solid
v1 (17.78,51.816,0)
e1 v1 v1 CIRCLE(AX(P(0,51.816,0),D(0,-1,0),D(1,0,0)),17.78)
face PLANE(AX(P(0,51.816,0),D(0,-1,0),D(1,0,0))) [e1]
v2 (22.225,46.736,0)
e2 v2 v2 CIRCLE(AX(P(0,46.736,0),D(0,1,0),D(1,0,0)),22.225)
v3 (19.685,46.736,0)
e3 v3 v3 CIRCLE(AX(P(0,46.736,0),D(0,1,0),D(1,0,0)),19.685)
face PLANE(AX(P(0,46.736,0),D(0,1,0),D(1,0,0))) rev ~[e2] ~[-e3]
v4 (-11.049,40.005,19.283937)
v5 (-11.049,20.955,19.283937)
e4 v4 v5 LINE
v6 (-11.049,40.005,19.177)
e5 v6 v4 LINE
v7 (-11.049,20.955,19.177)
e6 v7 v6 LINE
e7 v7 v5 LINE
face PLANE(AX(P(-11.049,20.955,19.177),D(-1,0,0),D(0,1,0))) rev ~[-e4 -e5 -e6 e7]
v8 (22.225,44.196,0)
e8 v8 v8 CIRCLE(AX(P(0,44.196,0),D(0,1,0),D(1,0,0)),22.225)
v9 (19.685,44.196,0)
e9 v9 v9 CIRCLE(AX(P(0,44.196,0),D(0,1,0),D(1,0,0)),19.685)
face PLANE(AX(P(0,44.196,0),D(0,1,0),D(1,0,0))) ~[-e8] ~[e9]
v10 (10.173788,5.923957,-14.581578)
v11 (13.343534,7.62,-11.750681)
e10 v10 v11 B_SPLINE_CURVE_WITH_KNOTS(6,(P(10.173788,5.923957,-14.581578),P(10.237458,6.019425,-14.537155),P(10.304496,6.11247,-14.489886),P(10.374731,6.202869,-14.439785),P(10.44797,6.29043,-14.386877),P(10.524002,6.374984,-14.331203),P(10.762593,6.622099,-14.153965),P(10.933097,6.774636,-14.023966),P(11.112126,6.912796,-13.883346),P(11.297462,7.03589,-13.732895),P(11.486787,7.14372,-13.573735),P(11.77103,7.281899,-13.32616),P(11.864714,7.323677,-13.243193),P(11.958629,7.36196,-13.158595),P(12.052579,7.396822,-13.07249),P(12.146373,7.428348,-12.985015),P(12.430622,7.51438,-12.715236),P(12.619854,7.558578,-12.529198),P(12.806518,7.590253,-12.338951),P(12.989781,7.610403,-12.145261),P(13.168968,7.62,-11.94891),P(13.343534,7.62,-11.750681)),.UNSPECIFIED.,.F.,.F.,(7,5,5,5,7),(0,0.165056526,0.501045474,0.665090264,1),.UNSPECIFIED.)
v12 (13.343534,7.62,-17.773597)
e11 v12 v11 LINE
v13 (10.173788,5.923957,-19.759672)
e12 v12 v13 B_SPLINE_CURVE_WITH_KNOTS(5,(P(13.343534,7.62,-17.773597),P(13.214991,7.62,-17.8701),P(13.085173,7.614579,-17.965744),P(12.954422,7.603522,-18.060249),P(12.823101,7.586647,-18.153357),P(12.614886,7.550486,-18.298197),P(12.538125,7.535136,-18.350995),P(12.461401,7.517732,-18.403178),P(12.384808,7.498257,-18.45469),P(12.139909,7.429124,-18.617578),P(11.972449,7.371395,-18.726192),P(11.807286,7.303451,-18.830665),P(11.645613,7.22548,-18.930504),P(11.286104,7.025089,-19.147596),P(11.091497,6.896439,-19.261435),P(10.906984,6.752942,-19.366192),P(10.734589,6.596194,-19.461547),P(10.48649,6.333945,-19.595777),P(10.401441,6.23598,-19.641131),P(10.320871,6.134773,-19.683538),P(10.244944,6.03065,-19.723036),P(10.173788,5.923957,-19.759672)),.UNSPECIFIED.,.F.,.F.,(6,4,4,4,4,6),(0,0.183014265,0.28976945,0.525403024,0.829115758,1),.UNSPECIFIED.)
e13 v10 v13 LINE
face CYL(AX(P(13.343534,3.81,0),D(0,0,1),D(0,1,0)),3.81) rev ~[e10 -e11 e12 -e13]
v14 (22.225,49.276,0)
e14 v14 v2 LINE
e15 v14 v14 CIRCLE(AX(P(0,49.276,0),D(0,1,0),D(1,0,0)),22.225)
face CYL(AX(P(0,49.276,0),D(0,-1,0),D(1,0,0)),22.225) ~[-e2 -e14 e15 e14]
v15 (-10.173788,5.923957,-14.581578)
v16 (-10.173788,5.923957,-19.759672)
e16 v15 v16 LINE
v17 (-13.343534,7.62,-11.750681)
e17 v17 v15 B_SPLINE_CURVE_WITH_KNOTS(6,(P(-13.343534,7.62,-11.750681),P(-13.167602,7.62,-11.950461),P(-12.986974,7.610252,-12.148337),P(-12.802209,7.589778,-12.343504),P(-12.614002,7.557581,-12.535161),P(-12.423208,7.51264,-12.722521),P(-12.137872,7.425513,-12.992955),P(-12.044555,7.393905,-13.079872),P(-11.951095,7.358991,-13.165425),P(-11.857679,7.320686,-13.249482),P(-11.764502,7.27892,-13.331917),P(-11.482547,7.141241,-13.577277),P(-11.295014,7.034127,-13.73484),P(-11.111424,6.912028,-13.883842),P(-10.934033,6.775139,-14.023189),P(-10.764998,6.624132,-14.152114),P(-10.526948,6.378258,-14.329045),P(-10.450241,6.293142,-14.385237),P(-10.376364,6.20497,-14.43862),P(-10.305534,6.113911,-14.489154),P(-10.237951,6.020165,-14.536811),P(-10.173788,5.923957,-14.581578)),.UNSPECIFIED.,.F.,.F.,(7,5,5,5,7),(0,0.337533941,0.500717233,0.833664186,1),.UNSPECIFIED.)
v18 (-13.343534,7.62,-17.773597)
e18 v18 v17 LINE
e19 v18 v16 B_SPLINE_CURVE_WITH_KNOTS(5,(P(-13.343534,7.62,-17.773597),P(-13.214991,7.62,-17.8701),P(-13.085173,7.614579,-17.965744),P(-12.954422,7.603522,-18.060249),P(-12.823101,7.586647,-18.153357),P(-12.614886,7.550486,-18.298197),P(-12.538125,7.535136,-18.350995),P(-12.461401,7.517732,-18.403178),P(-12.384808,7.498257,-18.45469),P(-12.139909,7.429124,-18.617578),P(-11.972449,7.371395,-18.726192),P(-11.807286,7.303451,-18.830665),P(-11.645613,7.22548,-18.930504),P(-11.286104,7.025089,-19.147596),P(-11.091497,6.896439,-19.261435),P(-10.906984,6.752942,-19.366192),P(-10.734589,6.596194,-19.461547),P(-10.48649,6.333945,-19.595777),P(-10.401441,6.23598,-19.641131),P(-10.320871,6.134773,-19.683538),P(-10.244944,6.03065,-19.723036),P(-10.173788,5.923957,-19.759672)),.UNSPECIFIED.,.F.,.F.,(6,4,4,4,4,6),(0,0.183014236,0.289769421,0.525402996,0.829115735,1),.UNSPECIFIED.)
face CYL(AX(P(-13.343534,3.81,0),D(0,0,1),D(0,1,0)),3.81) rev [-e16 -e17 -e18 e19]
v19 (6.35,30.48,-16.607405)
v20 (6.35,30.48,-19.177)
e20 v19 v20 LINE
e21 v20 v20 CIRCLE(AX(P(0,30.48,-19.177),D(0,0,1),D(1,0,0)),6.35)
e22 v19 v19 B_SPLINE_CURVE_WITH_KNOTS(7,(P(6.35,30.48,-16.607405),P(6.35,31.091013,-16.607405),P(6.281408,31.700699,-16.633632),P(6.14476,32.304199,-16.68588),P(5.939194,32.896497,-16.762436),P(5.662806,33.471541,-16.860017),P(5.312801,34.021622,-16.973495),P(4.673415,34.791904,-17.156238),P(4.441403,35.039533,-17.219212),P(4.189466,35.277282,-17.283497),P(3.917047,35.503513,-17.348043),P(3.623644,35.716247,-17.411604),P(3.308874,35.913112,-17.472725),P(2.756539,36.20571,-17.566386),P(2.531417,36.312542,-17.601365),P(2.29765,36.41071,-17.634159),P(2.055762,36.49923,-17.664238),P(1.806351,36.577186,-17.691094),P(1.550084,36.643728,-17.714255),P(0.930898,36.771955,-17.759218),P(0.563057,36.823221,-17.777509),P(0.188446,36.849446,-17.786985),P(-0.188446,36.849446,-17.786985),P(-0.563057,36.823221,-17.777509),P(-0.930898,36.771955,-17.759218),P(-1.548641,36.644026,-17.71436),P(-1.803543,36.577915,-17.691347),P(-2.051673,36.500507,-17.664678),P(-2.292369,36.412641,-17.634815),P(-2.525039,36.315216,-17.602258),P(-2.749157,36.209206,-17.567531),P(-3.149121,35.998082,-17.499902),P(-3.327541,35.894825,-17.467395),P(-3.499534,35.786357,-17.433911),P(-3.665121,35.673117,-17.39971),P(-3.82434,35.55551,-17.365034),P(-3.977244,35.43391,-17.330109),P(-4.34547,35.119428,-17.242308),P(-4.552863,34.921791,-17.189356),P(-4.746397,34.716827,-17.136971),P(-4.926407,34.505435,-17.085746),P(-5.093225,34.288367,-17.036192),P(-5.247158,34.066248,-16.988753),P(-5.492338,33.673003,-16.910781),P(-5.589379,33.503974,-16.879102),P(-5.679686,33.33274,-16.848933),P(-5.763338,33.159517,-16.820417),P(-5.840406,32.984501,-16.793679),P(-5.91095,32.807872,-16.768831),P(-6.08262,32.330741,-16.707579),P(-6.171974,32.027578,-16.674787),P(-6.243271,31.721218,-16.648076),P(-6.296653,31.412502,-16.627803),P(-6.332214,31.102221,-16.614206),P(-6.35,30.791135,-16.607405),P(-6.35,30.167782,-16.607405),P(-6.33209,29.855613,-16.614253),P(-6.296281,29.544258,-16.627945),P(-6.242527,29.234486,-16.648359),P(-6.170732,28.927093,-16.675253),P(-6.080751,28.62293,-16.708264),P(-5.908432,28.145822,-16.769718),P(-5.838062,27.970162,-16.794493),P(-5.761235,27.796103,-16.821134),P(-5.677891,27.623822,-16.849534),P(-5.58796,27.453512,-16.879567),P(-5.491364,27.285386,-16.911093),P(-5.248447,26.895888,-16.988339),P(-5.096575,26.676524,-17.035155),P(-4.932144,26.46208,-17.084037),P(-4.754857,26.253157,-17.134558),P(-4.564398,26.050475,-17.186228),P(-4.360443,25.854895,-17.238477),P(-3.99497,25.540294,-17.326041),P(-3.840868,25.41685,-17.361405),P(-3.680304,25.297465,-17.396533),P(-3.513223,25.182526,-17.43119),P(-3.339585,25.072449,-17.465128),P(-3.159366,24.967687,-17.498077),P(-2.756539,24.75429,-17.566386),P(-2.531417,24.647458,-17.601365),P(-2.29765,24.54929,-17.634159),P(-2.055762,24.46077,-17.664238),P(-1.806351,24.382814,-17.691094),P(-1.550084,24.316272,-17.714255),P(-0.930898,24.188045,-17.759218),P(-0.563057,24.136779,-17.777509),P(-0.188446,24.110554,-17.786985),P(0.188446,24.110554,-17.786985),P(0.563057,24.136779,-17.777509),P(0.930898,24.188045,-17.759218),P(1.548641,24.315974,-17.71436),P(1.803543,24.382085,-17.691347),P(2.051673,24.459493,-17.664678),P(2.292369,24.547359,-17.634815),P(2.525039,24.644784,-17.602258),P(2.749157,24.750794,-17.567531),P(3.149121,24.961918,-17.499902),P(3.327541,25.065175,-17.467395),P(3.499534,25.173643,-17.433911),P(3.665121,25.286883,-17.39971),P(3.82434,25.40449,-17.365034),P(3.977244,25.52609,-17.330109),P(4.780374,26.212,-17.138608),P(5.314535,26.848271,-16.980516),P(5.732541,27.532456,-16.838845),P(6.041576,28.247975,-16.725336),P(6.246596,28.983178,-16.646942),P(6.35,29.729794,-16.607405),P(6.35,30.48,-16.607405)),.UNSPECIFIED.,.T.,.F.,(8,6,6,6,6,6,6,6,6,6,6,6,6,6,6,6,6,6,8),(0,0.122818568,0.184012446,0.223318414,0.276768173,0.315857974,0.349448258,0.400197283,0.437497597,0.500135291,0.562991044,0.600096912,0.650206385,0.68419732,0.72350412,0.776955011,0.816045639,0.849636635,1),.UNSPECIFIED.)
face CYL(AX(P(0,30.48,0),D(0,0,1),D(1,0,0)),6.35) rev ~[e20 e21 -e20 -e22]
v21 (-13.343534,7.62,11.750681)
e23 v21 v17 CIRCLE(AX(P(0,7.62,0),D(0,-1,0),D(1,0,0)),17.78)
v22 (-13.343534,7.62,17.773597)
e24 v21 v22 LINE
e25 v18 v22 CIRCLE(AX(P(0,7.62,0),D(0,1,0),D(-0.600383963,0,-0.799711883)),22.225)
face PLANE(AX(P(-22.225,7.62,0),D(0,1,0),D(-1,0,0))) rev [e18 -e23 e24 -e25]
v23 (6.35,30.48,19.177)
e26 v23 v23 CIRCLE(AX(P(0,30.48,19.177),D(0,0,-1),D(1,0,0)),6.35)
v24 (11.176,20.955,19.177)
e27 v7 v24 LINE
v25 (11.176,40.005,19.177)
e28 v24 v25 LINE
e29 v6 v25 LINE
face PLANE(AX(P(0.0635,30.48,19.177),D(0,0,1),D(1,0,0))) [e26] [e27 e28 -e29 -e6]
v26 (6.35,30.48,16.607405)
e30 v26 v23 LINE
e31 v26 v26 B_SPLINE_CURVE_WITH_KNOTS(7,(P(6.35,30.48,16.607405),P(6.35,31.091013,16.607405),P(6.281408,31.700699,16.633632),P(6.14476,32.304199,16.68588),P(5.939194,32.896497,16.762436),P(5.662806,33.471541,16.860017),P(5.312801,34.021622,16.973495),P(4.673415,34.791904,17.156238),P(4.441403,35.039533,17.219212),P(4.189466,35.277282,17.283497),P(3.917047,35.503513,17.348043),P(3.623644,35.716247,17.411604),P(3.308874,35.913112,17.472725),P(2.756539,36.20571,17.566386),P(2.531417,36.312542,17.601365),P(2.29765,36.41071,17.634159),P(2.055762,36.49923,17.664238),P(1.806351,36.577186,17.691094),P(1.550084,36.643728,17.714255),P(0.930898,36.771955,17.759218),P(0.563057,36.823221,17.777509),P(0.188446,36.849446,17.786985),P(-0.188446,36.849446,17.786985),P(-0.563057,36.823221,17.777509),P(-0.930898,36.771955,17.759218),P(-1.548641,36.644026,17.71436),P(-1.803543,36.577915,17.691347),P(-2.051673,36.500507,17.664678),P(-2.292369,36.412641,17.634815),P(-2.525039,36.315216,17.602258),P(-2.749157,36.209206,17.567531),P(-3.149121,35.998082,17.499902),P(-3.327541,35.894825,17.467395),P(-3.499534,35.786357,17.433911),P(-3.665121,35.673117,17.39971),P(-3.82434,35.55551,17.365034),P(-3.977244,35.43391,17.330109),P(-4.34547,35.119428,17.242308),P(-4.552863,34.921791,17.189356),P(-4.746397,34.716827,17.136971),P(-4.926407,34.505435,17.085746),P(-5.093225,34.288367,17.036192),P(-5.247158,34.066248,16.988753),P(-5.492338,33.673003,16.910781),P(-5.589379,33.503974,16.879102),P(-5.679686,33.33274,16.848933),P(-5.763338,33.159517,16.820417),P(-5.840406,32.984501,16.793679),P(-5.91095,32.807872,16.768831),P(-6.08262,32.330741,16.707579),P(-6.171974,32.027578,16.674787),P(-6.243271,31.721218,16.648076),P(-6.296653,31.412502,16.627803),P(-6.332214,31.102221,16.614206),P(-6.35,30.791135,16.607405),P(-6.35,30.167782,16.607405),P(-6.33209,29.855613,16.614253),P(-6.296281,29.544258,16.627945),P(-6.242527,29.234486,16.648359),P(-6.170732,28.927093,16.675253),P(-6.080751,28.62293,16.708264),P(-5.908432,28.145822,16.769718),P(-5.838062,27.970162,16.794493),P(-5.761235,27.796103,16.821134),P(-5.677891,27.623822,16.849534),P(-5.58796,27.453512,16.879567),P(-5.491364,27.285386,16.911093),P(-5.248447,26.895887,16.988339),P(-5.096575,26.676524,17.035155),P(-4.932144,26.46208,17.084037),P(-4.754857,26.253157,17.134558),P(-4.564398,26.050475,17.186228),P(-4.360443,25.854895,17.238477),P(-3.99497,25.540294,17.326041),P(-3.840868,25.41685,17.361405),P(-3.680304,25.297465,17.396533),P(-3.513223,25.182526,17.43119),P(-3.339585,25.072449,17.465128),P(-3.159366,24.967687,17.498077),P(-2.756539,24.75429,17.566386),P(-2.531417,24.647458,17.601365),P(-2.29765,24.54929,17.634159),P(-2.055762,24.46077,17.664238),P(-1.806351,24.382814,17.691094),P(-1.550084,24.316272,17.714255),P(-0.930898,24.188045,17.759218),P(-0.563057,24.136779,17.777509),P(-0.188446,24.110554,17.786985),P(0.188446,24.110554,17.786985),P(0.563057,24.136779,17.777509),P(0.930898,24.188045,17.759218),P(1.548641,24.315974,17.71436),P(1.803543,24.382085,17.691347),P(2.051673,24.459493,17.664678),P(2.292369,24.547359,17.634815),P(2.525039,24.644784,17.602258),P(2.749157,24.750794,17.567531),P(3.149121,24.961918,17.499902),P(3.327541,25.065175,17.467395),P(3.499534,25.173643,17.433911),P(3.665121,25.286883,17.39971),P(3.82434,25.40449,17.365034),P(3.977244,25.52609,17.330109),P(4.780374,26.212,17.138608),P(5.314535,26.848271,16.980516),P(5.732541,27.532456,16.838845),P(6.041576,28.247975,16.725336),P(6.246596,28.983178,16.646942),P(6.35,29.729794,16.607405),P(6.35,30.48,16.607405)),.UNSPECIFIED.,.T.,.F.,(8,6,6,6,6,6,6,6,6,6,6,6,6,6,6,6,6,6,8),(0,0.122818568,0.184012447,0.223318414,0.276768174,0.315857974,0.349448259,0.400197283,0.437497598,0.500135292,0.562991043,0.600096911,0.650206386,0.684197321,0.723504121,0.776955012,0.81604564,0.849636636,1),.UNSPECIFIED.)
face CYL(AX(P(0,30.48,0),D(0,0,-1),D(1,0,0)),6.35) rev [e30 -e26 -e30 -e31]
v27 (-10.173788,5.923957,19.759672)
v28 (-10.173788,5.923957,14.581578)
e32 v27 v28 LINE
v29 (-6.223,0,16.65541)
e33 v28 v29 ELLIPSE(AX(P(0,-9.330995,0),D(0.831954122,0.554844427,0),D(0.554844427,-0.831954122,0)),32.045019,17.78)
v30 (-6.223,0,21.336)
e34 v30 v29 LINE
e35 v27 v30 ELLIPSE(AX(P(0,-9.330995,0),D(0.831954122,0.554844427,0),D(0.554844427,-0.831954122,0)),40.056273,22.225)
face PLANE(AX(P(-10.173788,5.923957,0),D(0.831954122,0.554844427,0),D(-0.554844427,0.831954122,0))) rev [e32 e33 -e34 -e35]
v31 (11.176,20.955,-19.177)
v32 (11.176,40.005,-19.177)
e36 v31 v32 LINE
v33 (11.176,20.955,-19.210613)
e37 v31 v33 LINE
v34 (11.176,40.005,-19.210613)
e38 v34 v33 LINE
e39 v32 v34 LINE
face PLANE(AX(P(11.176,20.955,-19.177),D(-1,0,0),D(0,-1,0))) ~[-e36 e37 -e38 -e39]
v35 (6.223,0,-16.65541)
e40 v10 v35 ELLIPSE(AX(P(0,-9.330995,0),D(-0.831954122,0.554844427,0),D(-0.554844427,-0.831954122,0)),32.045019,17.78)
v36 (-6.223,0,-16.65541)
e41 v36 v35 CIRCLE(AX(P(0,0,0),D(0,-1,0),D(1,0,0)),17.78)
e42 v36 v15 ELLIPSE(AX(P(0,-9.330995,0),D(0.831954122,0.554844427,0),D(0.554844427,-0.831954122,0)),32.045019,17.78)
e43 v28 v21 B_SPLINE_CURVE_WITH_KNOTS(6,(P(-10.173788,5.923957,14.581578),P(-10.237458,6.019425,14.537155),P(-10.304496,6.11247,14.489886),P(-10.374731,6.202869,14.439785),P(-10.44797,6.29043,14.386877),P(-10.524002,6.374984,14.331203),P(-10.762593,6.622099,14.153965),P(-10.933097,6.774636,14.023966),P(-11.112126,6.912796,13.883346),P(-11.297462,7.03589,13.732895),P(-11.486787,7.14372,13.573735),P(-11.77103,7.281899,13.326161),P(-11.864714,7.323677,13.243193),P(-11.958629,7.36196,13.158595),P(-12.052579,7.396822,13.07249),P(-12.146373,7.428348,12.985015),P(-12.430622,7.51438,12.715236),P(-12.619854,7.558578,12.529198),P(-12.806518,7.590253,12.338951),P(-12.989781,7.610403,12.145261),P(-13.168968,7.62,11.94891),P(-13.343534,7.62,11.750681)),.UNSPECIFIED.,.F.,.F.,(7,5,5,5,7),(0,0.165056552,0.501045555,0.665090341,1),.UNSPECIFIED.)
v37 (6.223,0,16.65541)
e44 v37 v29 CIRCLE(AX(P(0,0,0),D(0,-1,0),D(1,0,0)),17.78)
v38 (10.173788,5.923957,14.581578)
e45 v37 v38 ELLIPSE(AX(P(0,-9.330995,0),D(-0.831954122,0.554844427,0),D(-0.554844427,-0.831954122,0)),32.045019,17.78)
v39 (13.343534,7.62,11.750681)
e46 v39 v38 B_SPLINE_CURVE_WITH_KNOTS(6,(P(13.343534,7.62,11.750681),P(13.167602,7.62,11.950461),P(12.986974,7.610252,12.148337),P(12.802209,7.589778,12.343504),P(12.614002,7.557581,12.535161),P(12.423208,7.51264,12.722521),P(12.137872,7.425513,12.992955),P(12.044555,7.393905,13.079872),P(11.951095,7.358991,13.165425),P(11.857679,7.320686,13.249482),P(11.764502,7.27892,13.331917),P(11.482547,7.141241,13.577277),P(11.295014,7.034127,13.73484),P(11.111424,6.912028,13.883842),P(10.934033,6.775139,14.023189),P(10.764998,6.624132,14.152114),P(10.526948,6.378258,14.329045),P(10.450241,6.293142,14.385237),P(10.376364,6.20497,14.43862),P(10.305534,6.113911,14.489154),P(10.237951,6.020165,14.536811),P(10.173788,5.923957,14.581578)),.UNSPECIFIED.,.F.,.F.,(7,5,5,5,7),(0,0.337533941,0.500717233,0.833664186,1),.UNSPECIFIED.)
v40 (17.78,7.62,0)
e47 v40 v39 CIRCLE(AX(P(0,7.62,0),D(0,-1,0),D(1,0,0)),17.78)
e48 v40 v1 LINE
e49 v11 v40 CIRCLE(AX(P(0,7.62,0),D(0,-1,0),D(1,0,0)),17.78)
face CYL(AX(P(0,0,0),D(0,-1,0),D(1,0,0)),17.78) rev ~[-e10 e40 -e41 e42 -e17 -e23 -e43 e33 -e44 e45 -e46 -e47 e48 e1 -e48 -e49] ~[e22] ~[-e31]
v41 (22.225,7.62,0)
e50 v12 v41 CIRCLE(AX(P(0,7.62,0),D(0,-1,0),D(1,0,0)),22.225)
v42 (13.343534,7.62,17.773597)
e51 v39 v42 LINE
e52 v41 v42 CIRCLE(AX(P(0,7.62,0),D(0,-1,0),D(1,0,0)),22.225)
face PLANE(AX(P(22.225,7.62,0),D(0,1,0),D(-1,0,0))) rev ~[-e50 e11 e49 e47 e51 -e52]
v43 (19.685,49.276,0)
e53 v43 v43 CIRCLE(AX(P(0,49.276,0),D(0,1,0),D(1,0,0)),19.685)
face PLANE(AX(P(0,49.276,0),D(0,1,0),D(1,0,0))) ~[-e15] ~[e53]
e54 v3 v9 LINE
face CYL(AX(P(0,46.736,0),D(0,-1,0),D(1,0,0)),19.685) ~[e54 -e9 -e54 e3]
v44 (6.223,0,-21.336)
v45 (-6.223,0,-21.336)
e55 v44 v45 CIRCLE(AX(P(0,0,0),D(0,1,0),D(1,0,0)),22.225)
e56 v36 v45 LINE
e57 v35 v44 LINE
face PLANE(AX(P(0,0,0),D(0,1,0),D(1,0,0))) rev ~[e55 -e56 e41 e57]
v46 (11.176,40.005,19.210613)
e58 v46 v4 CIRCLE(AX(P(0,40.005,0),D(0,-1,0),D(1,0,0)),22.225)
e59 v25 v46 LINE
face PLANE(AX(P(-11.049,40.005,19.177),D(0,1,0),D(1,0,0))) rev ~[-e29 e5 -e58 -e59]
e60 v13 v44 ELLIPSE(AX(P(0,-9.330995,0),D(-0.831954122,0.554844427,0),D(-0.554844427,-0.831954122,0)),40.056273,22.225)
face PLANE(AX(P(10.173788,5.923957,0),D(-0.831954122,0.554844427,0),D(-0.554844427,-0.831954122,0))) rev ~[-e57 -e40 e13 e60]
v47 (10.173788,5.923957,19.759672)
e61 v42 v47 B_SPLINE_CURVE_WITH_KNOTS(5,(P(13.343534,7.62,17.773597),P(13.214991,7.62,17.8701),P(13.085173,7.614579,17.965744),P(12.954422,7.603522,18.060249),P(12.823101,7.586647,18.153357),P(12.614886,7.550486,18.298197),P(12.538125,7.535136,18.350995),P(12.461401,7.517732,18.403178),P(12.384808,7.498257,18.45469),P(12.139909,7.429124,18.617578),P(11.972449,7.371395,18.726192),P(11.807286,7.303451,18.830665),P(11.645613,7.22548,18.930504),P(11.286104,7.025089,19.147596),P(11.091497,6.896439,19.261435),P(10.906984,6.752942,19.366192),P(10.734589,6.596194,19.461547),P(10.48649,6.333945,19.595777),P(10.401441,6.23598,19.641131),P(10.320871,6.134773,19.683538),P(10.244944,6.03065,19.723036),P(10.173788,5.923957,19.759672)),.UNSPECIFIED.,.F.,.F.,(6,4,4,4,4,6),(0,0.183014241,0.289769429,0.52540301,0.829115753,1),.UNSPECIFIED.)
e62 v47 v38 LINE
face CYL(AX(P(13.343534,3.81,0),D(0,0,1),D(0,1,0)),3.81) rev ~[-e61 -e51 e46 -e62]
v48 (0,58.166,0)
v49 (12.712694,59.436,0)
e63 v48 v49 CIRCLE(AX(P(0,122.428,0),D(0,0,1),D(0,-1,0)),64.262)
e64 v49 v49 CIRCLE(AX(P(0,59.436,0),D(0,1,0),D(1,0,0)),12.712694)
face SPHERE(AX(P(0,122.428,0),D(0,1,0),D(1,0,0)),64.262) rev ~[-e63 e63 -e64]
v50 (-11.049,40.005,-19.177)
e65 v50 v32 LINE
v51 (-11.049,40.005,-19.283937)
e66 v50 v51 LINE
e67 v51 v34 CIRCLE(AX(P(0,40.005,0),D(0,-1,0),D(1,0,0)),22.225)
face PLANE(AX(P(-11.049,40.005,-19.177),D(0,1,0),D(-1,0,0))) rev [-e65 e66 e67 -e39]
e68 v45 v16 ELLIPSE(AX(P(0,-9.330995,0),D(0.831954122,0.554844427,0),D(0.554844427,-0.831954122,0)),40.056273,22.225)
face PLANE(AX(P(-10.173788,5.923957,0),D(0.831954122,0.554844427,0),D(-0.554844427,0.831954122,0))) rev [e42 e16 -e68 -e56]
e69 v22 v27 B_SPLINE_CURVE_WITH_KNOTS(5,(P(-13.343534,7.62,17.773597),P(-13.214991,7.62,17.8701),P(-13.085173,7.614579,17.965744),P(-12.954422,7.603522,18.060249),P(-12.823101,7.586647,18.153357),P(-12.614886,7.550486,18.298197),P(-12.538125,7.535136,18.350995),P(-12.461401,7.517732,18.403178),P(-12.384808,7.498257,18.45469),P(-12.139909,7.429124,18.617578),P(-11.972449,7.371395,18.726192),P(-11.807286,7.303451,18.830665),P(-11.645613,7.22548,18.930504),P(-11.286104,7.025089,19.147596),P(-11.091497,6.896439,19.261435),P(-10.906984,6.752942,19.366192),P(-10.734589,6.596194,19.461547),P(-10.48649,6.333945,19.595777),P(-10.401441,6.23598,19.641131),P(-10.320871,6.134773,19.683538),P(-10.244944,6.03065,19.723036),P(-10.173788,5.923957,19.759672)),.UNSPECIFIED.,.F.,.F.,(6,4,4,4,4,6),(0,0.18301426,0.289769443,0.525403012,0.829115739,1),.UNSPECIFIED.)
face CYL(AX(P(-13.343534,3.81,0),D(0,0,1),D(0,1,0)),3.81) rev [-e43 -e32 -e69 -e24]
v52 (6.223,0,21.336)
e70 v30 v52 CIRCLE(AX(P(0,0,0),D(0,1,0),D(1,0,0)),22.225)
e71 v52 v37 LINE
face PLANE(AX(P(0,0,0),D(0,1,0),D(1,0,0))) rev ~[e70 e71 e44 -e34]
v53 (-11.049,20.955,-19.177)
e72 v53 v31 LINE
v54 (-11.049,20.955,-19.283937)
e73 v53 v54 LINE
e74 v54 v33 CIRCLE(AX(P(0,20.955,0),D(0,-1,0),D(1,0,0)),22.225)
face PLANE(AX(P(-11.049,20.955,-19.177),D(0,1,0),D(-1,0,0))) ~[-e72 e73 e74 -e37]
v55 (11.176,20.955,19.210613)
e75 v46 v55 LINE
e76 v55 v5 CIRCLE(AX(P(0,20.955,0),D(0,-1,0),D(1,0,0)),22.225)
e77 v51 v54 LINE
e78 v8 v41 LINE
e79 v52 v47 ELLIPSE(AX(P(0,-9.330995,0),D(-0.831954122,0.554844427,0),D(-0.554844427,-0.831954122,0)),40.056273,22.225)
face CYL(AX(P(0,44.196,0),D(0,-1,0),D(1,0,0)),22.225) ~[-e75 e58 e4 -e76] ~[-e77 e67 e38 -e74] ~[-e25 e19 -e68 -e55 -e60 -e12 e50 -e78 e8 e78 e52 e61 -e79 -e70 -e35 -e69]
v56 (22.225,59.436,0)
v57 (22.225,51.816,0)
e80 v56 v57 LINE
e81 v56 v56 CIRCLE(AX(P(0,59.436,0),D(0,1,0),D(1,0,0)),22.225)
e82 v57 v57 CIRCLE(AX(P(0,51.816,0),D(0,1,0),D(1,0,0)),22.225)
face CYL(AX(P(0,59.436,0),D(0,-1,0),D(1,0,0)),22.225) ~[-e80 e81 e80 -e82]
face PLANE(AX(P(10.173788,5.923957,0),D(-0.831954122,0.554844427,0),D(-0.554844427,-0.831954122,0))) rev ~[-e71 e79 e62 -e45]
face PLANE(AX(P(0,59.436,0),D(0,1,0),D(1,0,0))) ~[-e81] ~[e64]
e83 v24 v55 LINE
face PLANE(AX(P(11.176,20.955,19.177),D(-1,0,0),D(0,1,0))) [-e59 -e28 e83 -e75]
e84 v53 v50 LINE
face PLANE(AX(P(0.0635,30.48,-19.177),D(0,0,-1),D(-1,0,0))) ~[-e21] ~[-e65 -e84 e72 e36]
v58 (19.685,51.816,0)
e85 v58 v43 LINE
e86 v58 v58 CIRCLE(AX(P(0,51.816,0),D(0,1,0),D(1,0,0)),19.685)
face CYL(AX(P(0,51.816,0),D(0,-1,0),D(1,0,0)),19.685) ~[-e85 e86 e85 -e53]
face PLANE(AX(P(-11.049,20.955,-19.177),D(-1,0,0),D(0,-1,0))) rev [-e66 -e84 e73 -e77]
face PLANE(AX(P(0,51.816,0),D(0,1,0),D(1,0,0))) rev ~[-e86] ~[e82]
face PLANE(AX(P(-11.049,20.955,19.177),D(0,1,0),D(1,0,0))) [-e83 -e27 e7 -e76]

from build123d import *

# Parameters (mm, degrees)
SKETCH2_R               = 17.78
CUT_EXTRUDE1_DEPTH      = 51.816
SKETCH3_R               = 6.35
CUT_EXTRUDE2_DEPTH      = 23.225
CUT_EXTRUDE2_DEPTH_BACK = 23.225
CUT_EXTRUDE3_START      = 19.177
SKETCH4_W               = 22.225
SKETCH4_H               = 19.05
CUT_EXTRUDE3_DEPTH      = 4.0480001
CUT_EXTRUDE4_DEPTH      = 23.225


with BuildPart() as part:
    # Sketch1 → Revolve1 (revolve)
    with BuildSketch(Plane.XY):
        with BuildLine():
            Line((0, 0), (0, 58.166))
            ThreePointArc((0, 58.166), (6.387986381, 58.484288237), (12.712693656, 59.436))
            Line((12.712693656, 59.436), (22.225, 59.436))
            Line((22.225, 59.436), (22.225, 51.816))
            Line((22.225, 51.816), (19.685, 51.816))
            Line((19.685, 51.816), (19.685, 49.276))
            Line((19.685, 49.276), (22.225, 49.276))
            Line((22.225, 49.276), (22.225, 46.736))
            Line((22.225, 46.736), (19.685, 46.736))
            Line((19.685, 46.736), (19.685, 44.196))
            Line((19.685, 44.196), (22.225, 44.196))
            Line((22.225, 44.196), (22.225, 0))
            Line((22.225, 0), (0, 0))
        make_face()
    revolve(axis=Axis((0, 0, 0), (0, 1, 0)))

    # Sketch2 → Cut-Extrude1 (cut)
    with BuildSketch(Plane.XZ):
        Circle(SKETCH2_R)
    extrude(amount=-CUT_EXTRUDE1_DEPTH, mode=Mode.SUBTRACT)

    # Sketch3 → Cut-Extrude2 (cut, two sides)
    with BuildSketch(Plane.XY) as cut_extrude2_sk:
        with Locations((0, 30.48)):
            Circle(SKETCH3_R)
    extrude(amount=CUT_EXTRUDE2_DEPTH, mode=Mode.SUBTRACT)
    extrude(cut_extrude2_sk.sketch, amount=-CUT_EXTRUDE2_DEPTH_BACK, mode=Mode.SUBTRACT)

    # Sketch4 → Cut-Extrude3 (cut, through all)
    with BuildSketch(Plane.XY.offset(CUT_EXTRUDE3_START)):
        with Locations((0.0635, 30.48)):
            Rectangle(SKETCH4_W, SKETCH4_H)
    cut_extrude3 = extrude(amount=CUT_EXTRUDE3_DEPTH, mode=Mode.SUBTRACT)

    # Mirror1: Cut-Extrude3 across plane
    add(cut_extrude3.mirror(Plane.XY), mode=Mode.SUBTRACT)

    # Sketch5 → Cut-Extrude4 (cut, symmetric)
    with BuildSketch(Plane.XY):
        with BuildLine():
            Line((22.225, 0), (22.225, 7.62))
            Line((22.225, 7.62), (13.343533586, 7.62))
            ThreePointArc((13.343533586, 7.62), (11.546046061, 7.169336035), (10.173788381, 5.923957269))
            Line((10.173788381, 5.923957269), (6.223, 0))
            Line((6.223, 0), (22.225, 0))
        make_face()
    cut_extrude4 = extrude(amount=CUT_EXTRUDE4_DEPTH, both=True, mode=Mode.SUBTRACT)

    # Mirror2: Cut-Extrude4 across plane
    add(cut_extrude4.mirror(Plane(origin=(0, 0, 0), x_dir=(0, 0, 1), z_dir=(1, 0, 0))), mode=Mode.SUBTRACT)


solid = part.part
